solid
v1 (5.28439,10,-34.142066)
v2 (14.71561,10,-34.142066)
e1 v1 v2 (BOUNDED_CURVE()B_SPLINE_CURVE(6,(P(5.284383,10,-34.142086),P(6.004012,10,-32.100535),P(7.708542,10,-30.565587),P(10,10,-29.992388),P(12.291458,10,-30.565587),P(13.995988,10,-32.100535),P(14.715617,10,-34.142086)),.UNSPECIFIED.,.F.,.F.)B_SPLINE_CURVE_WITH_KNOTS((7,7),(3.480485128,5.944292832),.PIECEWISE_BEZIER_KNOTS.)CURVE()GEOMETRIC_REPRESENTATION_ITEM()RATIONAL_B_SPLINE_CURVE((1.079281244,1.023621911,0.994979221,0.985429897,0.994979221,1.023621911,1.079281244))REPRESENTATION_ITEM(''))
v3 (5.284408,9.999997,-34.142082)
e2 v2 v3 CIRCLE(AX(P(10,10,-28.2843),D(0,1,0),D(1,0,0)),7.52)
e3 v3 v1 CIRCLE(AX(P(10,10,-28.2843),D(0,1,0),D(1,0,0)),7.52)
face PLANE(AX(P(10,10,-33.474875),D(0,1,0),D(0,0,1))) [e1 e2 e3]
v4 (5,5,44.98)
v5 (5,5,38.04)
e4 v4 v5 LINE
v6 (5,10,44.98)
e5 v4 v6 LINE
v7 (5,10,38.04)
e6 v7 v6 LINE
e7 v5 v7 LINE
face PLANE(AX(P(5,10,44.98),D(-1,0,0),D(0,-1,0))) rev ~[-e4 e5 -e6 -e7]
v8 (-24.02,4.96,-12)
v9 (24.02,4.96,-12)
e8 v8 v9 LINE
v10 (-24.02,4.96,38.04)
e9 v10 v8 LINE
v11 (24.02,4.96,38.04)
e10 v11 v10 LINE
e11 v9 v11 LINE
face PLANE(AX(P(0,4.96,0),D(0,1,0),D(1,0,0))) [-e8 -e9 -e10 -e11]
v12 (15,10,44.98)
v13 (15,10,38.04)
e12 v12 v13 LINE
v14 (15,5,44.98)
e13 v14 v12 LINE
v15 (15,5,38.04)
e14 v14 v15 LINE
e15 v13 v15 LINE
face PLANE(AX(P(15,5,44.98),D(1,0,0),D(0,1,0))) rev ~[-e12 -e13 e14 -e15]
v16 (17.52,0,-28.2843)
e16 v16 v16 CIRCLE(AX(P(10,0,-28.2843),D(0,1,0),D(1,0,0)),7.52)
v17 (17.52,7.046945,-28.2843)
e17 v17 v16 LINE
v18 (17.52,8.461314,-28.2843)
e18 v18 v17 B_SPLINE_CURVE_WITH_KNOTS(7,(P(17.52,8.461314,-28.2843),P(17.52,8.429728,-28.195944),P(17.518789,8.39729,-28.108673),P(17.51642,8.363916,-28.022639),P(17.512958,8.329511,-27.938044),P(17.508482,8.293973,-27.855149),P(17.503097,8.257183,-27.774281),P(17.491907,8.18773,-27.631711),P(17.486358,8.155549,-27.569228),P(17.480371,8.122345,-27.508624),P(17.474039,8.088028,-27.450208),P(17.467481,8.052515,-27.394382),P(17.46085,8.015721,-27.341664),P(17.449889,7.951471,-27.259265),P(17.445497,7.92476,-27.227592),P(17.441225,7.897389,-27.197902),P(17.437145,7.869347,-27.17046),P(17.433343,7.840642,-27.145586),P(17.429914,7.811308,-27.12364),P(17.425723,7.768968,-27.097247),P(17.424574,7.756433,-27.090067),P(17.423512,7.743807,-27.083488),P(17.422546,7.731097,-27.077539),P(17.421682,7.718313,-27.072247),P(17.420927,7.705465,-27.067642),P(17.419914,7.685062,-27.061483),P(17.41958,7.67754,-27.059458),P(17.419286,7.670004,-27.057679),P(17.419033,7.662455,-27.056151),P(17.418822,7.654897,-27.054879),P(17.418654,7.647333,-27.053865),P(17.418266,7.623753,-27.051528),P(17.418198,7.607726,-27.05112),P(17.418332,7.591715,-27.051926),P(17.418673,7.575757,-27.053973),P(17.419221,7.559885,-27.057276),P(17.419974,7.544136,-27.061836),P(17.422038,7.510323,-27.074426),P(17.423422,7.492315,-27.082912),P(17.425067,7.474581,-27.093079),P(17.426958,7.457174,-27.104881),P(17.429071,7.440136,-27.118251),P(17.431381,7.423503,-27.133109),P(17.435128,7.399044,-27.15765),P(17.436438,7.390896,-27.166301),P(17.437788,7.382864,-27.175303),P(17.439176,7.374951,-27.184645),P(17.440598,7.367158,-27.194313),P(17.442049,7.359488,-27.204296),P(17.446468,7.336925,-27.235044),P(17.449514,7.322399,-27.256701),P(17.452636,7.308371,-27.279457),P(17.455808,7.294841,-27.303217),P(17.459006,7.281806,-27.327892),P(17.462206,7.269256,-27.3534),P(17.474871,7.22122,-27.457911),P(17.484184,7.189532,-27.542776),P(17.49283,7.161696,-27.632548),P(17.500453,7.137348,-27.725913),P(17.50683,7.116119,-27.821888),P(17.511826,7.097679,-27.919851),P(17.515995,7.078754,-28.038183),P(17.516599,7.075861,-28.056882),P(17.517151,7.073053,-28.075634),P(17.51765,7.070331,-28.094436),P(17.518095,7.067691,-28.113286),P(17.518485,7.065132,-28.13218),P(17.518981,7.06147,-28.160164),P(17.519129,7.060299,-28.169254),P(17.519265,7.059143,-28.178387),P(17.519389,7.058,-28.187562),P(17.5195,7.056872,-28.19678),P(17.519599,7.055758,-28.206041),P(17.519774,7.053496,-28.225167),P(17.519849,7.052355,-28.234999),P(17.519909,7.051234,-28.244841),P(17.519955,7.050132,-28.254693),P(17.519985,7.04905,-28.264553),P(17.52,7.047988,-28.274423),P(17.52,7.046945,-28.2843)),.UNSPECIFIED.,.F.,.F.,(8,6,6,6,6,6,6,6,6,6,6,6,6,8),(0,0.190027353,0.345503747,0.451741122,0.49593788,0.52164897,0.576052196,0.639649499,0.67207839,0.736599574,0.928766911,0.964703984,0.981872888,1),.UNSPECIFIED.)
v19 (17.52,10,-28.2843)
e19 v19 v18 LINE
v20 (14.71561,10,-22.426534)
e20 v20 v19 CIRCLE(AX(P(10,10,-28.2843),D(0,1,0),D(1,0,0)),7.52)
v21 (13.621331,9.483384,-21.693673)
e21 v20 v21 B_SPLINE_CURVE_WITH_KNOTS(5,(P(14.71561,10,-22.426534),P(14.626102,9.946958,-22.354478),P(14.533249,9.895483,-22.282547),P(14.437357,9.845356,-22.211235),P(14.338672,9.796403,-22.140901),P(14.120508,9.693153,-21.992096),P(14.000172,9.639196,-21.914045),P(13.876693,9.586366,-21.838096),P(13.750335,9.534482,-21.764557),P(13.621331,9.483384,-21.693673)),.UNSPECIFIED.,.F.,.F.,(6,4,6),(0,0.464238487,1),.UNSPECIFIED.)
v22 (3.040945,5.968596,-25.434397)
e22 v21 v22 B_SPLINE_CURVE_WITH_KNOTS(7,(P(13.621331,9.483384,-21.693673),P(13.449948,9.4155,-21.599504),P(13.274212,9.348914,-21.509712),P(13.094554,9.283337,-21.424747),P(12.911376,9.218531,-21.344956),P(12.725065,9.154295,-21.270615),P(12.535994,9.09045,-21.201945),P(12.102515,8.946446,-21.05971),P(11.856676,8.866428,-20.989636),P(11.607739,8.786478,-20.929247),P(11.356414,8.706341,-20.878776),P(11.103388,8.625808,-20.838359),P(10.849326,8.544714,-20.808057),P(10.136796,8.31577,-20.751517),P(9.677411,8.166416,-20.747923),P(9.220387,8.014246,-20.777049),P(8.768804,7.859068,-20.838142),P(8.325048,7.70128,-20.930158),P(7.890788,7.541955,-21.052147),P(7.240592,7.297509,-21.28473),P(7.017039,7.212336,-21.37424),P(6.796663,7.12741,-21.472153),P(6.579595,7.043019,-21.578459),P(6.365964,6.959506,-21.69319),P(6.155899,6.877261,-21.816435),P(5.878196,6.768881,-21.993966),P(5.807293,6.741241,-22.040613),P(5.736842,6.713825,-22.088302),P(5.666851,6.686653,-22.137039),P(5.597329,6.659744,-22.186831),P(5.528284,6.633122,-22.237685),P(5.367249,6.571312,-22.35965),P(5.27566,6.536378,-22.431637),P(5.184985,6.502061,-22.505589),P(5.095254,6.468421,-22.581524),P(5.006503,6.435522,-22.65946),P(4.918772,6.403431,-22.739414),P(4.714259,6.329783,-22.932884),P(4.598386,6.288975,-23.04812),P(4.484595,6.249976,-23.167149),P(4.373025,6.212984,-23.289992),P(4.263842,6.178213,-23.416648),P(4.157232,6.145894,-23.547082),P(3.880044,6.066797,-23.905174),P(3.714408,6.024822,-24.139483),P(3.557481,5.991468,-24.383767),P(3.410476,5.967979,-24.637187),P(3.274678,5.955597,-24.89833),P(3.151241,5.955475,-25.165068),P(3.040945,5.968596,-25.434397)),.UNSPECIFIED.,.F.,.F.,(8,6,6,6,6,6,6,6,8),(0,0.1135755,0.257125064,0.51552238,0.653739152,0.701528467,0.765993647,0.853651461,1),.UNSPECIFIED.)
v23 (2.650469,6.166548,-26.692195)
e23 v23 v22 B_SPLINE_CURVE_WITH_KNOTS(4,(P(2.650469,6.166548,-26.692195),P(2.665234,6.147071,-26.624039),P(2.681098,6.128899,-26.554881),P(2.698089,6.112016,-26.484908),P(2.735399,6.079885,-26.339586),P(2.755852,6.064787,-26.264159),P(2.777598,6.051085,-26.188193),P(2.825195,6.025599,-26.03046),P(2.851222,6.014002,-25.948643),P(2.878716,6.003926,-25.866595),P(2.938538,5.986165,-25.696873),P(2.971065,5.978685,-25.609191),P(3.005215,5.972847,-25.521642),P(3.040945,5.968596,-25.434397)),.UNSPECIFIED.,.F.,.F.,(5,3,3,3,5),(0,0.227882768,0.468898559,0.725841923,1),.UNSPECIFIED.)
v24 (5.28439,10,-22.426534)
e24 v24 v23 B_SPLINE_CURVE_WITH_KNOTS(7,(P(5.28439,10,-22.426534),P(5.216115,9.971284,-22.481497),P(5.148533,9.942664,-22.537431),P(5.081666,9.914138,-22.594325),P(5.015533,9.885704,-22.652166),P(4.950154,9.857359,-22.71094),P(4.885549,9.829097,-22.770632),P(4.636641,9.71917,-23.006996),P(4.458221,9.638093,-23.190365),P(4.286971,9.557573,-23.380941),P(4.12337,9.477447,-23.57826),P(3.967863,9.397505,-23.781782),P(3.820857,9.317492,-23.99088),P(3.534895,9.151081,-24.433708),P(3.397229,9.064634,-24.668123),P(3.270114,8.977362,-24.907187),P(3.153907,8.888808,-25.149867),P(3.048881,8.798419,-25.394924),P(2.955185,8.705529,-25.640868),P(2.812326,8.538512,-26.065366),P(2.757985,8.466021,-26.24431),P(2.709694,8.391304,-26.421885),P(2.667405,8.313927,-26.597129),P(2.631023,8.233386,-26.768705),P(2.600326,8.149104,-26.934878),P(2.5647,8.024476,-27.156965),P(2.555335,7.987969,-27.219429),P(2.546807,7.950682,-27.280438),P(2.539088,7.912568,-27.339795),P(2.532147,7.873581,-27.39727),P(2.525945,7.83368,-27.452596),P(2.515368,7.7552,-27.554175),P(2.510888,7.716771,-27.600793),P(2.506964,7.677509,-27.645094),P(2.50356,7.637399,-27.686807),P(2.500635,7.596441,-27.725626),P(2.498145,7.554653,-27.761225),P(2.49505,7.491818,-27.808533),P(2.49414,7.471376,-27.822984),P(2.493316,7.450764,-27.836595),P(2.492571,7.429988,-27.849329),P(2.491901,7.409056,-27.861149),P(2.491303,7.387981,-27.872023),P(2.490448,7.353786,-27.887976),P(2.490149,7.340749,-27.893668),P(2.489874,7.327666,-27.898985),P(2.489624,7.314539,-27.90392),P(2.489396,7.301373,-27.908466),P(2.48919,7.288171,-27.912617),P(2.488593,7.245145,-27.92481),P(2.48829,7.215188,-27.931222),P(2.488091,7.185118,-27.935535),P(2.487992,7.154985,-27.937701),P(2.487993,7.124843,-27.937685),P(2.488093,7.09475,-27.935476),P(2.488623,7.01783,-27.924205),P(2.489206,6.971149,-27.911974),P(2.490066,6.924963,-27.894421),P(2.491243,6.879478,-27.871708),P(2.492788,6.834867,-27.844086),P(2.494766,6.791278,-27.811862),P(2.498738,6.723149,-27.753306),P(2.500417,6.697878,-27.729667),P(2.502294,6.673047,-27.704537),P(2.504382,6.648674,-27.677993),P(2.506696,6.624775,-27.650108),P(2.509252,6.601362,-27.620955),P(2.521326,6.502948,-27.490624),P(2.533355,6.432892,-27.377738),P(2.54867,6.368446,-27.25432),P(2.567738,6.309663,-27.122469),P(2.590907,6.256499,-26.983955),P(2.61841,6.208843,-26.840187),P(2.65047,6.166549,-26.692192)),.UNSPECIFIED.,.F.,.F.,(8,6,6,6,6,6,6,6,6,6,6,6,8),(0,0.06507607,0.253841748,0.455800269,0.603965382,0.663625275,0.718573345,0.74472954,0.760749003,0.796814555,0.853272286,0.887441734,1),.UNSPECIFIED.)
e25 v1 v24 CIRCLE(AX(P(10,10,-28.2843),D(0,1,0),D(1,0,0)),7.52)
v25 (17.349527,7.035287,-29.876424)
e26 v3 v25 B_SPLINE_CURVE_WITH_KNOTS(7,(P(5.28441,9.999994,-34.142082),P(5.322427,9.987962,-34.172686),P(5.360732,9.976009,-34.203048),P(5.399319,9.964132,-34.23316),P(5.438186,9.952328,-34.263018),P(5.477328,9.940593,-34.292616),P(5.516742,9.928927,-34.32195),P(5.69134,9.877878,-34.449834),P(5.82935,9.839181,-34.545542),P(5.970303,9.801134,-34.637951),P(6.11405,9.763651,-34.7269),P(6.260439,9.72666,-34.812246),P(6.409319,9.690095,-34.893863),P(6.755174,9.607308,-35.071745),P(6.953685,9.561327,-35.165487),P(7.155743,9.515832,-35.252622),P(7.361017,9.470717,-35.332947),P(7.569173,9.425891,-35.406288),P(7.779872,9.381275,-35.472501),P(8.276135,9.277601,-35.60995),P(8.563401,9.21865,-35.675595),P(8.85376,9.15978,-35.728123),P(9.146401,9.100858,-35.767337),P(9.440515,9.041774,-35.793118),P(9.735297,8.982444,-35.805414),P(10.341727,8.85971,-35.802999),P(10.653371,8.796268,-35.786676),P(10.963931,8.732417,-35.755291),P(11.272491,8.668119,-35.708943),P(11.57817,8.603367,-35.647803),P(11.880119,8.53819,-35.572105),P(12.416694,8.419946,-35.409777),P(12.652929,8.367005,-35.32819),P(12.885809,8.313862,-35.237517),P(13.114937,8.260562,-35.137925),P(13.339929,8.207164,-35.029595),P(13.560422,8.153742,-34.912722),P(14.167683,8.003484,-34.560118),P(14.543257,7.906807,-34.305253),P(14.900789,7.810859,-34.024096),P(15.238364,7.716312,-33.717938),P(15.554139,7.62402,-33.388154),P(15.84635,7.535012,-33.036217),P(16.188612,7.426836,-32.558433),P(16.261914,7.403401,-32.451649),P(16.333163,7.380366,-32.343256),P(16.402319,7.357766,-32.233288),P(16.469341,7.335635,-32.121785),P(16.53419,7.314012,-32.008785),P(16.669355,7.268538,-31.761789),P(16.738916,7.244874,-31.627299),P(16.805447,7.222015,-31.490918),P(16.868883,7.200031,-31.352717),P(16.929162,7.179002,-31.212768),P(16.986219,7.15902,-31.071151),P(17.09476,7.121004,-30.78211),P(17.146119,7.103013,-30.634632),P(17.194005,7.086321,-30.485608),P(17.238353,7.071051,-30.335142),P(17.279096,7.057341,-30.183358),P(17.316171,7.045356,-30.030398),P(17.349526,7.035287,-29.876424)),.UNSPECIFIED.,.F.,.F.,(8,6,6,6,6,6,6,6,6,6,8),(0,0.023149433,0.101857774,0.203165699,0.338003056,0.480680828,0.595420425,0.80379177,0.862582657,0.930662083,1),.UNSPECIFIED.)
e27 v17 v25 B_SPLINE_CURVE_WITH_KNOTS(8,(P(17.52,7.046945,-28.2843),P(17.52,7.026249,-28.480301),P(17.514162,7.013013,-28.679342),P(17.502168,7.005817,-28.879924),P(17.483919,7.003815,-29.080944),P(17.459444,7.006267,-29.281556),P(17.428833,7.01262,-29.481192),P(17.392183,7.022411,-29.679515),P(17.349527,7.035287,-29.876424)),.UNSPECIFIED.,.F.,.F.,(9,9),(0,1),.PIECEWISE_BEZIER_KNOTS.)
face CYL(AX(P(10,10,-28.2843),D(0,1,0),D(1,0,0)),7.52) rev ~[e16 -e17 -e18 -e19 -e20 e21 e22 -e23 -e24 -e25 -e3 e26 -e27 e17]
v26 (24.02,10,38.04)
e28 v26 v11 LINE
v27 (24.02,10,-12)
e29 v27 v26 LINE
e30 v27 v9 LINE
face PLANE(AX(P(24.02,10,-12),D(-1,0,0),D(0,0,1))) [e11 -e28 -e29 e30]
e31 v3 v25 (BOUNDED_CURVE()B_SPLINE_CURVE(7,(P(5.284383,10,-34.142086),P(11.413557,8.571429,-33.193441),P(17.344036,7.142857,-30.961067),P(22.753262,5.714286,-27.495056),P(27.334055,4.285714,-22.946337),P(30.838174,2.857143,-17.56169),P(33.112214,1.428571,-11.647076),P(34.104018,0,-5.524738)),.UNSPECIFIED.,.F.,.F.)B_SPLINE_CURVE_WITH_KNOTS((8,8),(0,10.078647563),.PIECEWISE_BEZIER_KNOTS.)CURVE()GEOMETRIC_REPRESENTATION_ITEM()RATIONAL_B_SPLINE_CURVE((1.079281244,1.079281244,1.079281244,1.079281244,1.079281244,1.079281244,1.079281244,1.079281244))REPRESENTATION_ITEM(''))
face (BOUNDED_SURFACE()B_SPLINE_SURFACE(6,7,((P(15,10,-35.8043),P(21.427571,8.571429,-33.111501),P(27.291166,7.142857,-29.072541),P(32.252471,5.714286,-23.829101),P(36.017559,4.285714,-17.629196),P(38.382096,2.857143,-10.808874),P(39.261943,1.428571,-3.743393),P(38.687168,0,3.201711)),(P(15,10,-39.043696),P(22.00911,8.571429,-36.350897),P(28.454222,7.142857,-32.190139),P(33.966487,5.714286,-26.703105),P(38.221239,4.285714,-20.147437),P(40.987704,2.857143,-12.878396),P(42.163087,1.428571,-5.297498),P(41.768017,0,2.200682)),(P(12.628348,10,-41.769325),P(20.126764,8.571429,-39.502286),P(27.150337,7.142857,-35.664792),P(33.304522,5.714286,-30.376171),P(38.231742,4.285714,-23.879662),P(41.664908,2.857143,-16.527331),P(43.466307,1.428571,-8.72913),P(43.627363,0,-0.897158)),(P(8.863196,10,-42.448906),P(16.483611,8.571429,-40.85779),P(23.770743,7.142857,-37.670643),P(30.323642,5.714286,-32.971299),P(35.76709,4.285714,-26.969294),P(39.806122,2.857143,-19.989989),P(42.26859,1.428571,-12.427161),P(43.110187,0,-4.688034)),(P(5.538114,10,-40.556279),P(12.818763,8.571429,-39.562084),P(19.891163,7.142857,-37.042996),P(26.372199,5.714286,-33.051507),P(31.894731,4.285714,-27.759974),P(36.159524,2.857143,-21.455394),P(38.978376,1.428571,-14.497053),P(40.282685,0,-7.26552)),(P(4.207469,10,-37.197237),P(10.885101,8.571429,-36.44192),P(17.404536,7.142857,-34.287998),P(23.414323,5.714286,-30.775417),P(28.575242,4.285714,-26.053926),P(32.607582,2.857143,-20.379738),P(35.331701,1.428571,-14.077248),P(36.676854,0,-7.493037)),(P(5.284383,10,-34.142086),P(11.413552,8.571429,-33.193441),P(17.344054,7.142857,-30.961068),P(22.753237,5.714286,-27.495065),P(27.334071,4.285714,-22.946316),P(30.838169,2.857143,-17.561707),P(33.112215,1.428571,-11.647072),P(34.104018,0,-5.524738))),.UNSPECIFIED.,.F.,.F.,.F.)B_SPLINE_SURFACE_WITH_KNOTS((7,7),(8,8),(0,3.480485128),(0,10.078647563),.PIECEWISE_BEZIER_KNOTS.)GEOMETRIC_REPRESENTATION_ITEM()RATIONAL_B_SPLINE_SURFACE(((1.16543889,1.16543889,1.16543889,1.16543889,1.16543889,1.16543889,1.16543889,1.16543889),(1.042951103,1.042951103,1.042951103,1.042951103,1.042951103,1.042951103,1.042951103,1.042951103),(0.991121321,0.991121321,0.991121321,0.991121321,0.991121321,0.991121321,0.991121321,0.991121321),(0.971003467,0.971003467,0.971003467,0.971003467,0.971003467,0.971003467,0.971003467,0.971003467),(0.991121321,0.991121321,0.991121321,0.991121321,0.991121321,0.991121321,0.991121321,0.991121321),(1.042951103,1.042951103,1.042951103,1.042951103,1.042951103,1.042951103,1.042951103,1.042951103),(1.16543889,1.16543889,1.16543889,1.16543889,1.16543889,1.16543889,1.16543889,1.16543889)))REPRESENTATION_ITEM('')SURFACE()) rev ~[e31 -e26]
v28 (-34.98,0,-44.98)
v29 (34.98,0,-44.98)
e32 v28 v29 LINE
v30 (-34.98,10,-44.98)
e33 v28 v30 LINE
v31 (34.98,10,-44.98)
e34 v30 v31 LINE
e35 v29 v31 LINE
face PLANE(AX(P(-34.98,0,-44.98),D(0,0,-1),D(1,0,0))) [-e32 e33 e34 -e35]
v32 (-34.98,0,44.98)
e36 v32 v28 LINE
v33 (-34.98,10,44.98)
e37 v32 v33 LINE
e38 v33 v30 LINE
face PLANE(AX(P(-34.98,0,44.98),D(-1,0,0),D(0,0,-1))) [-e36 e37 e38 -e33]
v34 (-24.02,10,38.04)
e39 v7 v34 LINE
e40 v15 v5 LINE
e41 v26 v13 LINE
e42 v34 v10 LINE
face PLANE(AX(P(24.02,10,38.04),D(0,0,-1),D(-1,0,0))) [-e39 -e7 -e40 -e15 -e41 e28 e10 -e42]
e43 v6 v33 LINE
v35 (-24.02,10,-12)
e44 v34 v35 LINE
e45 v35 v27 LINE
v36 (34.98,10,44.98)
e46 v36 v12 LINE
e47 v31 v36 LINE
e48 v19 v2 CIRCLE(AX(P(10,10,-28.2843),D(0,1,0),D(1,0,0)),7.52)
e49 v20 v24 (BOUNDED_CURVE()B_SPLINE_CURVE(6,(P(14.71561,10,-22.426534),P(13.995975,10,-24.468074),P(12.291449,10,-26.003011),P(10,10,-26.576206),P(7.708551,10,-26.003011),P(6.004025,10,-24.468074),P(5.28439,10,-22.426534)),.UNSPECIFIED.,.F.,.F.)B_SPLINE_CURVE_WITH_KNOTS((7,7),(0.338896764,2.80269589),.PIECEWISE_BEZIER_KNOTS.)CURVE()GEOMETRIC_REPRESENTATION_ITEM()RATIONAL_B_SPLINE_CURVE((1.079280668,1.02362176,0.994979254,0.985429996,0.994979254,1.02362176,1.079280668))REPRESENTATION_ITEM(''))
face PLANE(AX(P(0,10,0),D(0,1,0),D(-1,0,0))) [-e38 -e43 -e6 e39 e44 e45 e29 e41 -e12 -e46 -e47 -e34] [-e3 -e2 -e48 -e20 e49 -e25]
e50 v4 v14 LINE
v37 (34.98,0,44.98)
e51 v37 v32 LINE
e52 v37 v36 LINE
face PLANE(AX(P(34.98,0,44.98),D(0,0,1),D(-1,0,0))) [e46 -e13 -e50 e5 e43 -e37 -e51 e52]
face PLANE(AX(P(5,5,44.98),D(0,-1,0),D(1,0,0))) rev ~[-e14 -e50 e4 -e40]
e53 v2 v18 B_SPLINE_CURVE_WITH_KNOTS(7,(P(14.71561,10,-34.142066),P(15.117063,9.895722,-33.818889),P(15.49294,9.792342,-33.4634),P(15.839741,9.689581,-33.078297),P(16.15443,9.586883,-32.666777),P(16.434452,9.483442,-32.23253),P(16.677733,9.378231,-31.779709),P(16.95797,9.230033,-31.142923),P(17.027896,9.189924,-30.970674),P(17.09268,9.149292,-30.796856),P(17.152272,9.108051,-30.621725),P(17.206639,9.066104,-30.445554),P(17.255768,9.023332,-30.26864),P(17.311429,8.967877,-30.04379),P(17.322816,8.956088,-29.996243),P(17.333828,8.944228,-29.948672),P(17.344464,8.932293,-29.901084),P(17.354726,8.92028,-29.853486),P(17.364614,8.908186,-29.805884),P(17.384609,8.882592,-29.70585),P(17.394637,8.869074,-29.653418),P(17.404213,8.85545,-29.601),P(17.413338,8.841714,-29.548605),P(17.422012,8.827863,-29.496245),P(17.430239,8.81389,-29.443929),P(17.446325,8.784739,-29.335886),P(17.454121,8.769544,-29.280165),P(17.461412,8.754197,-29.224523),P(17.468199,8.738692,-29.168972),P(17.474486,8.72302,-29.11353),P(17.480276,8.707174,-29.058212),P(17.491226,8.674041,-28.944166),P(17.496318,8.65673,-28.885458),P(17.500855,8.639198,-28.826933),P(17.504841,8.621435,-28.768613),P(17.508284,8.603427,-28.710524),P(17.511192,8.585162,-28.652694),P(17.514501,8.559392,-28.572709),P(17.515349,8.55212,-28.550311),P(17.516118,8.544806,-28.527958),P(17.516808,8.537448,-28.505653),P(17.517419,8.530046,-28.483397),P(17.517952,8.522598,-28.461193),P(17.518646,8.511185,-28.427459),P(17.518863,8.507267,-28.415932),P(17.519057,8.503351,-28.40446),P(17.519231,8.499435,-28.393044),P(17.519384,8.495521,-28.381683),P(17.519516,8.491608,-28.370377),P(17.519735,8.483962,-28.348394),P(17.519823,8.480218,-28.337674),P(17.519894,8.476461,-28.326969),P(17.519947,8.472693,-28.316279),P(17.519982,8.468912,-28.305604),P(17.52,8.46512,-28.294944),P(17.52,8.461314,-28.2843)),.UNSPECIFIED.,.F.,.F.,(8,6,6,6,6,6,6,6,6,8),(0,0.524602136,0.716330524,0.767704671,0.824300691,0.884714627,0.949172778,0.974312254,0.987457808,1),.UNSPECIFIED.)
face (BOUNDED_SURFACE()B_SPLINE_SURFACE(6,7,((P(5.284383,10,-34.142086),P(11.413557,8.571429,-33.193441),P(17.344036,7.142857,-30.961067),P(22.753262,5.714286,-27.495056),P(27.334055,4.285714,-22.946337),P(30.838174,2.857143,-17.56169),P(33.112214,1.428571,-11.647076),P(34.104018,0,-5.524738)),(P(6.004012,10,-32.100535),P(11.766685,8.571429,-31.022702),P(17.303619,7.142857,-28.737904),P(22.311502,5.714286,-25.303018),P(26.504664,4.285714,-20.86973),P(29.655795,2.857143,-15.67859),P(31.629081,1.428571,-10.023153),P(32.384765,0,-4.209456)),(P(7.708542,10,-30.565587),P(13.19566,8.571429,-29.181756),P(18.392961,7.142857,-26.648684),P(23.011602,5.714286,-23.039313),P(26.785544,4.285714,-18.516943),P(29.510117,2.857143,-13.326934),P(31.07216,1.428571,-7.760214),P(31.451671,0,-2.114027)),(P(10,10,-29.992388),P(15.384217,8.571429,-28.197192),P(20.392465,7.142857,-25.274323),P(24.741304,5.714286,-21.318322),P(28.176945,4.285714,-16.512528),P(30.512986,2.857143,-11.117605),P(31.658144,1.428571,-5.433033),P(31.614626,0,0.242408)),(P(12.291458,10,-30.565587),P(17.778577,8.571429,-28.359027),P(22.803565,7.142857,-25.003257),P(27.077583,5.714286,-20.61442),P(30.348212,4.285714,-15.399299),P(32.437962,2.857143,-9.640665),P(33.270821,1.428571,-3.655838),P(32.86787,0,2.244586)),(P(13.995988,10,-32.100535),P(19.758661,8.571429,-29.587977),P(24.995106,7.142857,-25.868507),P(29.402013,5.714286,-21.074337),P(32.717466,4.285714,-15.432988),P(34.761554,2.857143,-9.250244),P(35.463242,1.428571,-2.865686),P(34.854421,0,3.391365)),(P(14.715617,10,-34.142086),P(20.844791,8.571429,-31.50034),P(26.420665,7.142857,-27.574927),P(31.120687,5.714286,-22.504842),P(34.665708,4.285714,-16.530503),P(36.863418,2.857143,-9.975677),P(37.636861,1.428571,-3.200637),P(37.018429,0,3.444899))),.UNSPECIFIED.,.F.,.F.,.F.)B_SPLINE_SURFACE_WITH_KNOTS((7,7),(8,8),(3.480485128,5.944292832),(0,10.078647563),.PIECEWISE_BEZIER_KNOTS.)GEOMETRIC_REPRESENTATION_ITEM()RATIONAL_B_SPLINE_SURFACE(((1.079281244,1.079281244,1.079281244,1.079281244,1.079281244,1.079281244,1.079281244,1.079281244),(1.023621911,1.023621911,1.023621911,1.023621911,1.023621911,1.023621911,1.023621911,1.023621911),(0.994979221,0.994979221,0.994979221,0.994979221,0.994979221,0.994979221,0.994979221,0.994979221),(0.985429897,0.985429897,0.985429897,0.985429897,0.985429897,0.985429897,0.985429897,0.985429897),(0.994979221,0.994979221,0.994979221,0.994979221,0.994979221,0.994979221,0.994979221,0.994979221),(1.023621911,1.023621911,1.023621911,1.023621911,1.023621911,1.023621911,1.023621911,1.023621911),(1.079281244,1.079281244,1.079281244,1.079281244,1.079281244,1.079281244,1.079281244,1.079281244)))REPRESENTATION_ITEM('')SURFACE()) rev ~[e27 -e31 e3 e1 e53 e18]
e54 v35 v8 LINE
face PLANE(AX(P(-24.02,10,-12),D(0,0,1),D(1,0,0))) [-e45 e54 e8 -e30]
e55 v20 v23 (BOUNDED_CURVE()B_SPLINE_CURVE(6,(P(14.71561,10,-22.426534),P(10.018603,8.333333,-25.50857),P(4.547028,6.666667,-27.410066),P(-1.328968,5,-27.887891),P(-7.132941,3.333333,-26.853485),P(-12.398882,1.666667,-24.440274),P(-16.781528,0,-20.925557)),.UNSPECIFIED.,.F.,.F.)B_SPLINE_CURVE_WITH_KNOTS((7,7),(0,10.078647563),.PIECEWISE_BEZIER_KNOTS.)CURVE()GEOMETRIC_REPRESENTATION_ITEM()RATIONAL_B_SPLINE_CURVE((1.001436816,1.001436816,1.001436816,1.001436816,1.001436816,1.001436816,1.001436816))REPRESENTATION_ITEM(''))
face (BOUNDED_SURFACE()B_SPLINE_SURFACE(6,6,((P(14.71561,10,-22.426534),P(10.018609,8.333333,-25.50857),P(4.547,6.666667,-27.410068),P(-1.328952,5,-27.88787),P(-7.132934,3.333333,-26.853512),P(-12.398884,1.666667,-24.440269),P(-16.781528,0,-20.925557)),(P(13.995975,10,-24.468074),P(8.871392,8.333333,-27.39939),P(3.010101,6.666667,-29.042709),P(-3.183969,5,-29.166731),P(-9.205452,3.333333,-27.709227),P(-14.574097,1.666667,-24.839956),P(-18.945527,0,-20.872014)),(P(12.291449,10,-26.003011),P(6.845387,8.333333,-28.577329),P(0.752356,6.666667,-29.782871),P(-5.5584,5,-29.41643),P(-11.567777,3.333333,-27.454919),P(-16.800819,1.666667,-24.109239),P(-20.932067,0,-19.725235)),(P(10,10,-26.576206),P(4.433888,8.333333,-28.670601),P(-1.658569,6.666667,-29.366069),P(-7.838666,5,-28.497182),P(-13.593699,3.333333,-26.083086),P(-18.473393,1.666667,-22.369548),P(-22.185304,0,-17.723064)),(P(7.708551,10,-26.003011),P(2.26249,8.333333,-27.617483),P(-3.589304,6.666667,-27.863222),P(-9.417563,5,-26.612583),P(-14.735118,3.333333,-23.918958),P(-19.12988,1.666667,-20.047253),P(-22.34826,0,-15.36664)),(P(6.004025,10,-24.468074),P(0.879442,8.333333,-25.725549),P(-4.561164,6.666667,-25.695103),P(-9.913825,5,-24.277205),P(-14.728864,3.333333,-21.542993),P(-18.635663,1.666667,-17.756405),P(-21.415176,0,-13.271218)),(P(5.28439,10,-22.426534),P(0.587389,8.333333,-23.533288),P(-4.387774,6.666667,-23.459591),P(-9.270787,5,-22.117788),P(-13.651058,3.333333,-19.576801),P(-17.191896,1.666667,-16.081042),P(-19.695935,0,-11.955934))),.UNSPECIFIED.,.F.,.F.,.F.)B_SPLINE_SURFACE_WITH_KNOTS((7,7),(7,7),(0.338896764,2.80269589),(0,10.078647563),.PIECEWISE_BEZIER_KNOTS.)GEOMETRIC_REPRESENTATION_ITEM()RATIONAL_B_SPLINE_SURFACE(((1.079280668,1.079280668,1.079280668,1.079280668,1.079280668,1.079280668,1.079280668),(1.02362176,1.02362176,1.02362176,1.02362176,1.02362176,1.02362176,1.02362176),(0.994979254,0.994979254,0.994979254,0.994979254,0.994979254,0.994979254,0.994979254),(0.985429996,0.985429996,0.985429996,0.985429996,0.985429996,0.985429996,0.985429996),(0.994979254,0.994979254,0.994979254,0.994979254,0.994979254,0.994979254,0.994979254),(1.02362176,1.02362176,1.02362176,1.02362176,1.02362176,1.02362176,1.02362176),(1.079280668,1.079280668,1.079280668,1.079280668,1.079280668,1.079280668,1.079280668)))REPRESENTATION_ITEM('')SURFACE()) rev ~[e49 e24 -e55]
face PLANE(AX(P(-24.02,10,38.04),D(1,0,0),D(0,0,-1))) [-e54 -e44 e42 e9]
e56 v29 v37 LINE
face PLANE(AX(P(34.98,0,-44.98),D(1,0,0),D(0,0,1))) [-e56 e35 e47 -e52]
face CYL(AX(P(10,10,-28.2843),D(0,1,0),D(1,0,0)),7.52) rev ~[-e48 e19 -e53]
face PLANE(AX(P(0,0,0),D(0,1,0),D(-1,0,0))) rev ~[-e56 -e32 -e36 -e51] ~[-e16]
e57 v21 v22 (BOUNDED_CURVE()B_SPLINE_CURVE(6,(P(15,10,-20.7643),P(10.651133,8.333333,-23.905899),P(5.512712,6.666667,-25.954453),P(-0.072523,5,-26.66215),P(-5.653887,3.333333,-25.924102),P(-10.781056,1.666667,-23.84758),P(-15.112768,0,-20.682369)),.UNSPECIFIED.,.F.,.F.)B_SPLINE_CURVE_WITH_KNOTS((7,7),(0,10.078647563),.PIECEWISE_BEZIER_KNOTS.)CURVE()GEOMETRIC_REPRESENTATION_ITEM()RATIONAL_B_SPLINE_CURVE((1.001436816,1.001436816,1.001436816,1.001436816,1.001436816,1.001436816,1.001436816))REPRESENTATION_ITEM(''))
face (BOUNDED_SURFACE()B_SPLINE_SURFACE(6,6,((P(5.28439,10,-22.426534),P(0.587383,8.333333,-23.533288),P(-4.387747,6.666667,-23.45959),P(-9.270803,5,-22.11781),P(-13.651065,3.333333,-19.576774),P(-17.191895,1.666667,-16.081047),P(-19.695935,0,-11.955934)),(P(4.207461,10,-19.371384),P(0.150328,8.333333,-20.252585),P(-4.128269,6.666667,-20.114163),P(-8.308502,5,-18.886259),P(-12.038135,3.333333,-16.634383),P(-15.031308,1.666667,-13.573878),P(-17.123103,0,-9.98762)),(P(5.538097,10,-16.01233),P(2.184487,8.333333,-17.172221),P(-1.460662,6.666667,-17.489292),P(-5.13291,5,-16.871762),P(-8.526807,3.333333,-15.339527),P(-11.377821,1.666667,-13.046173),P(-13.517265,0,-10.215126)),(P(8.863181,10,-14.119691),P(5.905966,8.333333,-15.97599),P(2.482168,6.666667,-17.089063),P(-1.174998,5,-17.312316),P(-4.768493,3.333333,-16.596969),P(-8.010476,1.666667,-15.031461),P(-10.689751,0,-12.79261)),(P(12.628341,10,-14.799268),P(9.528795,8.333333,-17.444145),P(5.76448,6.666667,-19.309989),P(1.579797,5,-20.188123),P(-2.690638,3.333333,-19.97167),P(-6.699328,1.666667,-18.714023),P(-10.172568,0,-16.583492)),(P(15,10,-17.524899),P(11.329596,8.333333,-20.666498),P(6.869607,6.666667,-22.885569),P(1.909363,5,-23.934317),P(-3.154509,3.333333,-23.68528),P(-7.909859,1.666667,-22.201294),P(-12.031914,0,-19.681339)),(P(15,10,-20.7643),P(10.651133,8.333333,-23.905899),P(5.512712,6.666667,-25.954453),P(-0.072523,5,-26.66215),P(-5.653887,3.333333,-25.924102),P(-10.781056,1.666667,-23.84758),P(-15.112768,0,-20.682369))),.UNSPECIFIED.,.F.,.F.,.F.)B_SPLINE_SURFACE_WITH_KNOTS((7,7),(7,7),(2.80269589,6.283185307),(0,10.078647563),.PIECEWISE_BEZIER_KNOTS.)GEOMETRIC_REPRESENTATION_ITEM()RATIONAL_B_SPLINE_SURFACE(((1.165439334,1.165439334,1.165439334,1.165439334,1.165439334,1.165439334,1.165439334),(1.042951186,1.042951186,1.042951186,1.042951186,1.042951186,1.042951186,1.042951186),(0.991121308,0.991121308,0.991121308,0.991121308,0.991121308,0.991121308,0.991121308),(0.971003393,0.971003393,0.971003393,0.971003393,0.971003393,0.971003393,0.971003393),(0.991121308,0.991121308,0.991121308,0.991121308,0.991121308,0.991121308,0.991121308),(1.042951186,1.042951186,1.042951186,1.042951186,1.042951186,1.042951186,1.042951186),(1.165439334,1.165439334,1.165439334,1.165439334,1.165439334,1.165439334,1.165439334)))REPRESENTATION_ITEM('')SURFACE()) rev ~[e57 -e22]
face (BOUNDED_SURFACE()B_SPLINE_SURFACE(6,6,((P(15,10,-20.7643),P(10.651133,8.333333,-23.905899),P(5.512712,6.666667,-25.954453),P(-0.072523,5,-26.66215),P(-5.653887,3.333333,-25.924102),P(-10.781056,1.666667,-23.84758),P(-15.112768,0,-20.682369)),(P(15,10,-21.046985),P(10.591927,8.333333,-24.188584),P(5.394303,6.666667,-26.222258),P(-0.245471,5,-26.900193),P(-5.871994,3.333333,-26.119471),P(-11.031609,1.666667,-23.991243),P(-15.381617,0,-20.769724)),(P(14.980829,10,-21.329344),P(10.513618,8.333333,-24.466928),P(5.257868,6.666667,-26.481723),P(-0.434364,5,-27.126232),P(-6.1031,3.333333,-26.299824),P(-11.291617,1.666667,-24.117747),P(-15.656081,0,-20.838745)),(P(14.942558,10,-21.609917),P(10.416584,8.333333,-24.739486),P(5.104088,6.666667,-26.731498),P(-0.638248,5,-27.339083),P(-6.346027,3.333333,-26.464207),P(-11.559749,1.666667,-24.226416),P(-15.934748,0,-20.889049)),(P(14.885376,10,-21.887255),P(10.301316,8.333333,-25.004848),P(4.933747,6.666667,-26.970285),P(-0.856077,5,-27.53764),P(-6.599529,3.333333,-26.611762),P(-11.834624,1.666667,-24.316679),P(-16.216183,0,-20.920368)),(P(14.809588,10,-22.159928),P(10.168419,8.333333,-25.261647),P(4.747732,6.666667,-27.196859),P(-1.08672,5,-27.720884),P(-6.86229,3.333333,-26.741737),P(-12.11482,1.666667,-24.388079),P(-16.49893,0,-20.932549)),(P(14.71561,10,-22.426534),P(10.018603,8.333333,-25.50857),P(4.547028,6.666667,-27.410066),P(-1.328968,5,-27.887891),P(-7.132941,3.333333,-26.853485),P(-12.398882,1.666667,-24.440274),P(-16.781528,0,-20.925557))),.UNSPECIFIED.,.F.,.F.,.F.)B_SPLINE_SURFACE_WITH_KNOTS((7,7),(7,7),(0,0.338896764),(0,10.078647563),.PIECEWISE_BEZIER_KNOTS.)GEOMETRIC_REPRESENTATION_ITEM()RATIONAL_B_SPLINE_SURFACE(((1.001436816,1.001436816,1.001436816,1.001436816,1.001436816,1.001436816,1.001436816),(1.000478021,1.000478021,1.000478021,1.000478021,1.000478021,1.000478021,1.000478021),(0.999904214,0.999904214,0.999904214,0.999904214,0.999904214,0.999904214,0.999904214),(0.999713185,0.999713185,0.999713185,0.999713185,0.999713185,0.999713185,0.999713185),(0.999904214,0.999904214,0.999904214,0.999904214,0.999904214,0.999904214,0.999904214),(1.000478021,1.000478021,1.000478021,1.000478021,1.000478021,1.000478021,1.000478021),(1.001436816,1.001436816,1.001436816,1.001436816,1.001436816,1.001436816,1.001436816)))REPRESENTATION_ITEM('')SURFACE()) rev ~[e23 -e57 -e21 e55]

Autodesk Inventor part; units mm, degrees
ref_plane "YZ Plane" through (0, 0, 0) normal (1, 0, 0) x (0, 1, 0)
ref_plane "XZ Plane" through (0, 0, 0) normal (0, 1, 0) x (-1, 0, 0)
ref_plane "XY Plane" through (0, 0, 0) normal (0, 0, 1) x (1, 0, 0)
sketch "Sketch1" plane through (0, 0, 0) normal (0, 1, 0) x (-1, 0, 0)
  line L0 (-34.98, 44.98) -> (34.98, 44.98)
  line L1 (34.98, 44.98) -> (34.98, -44.98)
  line L2 (34.98, -44.98) -> (-34.98, -44.98)
  line L3 (-34.98, -44.98) -> (-34.98, 44.98)
  line L4 (-34.98, 44.98) -> (34.98, -44.98) construction
  line L5 (34.98, 44.98) -> (-34.98, -44.98) construction
  point P0 (0, 0)
  dimension "d0" = 89.96
  dimension "d1" = 69.96
extrude "Extrusion1" add sketch "Sketch1" along normal blind 10
sketch "Sketch2" plane through (0, 10, 0) normal (0, 1, 0) x (1, 0, 0)
  circle A0 centre (10, 28.2843) radius 7.52
  line L0 (-34.98, 44.98) -> (-34.98, -44.98) projected
  point P0 (0, 0)
  dimension "d4" = 30
  dimension "d5" = 15.04
  dimension "d6" = 44.98
sketch "Sketch3" plane through (0, 10, 0) normal (0, 1, 0) x (1, 0, 0)
  line L0 (24.02, -38.04) -> (-24.02, -38.04)
  line L1 (-24.02, -38.04) -> (-24.02, 12)
  line L2 (-24.02, 12) -> (24.02, 12)
  line L3 (24.02, 12) -> (24.02, -38.04)
  line L4 (24.02, -38.04) -> (-24.02, 12) construction
  line L5 (-24.02, -38.04) -> (24.02, 12) construction
  point P0 (0, 0)
  point P1 (0, -13.02)
  dimension "d9" = 12
  dimension "d10" = 50.04
  dimension "d11" = 48.04
  dimension "d12" = 0
extrude "Extrusion3" cut sketch "Sketch3" against normal blind 5.04
extrude "Extrusion4" cut sketch "Sketch2" against normal through all
sketch "Sketch6" plane through (-34.98, 0, 44.98) normal (0, 0, 1) x (1, 0, 0)
  line L0 (39.98, 5) -> (49.98, 5)
  line L1 (49.98, 5) -> (49.98, 15)
  line L2 (49.98, 15) -> (39.98, 15)
  line L3 (39.98, 15) -> (39.98, 5)
  line L4 (37.46, 10) -> (52.5, 10) projected
  line L5 (39.98, 5) -> (49.98, 15) construction
  line L6 (49.98, 5) -> (39.98, 15) construction
  point P0 (34.98, 0)
  point P1 (44.98, 10)
  dimension "d29" = 10
  dimension "d30" = 10
extrude "Extrusion5" cut sketch "Sketch6" against normal blind 33
sketch "Sketch7" plane through (0, 10, 0) normal (0, 1, 0) x (1, 0, 0)
  circle A0 centre (10, 28.2843) radius 7.52 projected
  circle A1 centre (10, 35.8043) radius 5
  circle A2 centre (10, 20.7643) radius 5
  point P0 (0, 0)
  dimension "d34" = 10
  dimension "d35" = 10
  dimension "d36" = 15.04
coil "Coil2" sketch "Sketch7" operation add axis through (0, -10, 0) along (0, -1, 0) pitch 50 turns 0.2 hand left contours A2 A0 | A0 A2
sketch "Sketch8" plane through (0, 10, 0) normal (0, 1, 0) x (1, 0, 0)
  arc A0 (14.7156, 22.4265) -> (5.2844, 22.4265) centre (10, 28.2843) ccw projected
  circle A1 centre (10, 35.8043) radius 5
  point P0 (0, 0)
  point P1 (10, 35.8043)
  dimension "d45" = 10
coil "Coil3" sketch "Sketch8" operation add axis through (0, -10, 0) along (0, -1, 0) pitch 50 turns 0.2 hand right
sketch "Sketch9" plane through (34.98, 0, -44.98) normal (1, 0, 0) x (0, 0, -1)
  line L0 (-89.96, 10) -> (0, 10) projected
  line L1 (0, 0) -> (-38.9181, 0) projected
  line L2 (-89.96, 10) -> (0, 10)
  line L3 (0, 10) -> (0, 0)
  line L4 (0, 0) -> (-89.96, 0)
  line L5 (-89.96, 0) -> (-89.96, 10)
  point P0 (-44.98, 0)
extrude "Extrusion6" cut sketch "Sketch9" along normal blind 20
